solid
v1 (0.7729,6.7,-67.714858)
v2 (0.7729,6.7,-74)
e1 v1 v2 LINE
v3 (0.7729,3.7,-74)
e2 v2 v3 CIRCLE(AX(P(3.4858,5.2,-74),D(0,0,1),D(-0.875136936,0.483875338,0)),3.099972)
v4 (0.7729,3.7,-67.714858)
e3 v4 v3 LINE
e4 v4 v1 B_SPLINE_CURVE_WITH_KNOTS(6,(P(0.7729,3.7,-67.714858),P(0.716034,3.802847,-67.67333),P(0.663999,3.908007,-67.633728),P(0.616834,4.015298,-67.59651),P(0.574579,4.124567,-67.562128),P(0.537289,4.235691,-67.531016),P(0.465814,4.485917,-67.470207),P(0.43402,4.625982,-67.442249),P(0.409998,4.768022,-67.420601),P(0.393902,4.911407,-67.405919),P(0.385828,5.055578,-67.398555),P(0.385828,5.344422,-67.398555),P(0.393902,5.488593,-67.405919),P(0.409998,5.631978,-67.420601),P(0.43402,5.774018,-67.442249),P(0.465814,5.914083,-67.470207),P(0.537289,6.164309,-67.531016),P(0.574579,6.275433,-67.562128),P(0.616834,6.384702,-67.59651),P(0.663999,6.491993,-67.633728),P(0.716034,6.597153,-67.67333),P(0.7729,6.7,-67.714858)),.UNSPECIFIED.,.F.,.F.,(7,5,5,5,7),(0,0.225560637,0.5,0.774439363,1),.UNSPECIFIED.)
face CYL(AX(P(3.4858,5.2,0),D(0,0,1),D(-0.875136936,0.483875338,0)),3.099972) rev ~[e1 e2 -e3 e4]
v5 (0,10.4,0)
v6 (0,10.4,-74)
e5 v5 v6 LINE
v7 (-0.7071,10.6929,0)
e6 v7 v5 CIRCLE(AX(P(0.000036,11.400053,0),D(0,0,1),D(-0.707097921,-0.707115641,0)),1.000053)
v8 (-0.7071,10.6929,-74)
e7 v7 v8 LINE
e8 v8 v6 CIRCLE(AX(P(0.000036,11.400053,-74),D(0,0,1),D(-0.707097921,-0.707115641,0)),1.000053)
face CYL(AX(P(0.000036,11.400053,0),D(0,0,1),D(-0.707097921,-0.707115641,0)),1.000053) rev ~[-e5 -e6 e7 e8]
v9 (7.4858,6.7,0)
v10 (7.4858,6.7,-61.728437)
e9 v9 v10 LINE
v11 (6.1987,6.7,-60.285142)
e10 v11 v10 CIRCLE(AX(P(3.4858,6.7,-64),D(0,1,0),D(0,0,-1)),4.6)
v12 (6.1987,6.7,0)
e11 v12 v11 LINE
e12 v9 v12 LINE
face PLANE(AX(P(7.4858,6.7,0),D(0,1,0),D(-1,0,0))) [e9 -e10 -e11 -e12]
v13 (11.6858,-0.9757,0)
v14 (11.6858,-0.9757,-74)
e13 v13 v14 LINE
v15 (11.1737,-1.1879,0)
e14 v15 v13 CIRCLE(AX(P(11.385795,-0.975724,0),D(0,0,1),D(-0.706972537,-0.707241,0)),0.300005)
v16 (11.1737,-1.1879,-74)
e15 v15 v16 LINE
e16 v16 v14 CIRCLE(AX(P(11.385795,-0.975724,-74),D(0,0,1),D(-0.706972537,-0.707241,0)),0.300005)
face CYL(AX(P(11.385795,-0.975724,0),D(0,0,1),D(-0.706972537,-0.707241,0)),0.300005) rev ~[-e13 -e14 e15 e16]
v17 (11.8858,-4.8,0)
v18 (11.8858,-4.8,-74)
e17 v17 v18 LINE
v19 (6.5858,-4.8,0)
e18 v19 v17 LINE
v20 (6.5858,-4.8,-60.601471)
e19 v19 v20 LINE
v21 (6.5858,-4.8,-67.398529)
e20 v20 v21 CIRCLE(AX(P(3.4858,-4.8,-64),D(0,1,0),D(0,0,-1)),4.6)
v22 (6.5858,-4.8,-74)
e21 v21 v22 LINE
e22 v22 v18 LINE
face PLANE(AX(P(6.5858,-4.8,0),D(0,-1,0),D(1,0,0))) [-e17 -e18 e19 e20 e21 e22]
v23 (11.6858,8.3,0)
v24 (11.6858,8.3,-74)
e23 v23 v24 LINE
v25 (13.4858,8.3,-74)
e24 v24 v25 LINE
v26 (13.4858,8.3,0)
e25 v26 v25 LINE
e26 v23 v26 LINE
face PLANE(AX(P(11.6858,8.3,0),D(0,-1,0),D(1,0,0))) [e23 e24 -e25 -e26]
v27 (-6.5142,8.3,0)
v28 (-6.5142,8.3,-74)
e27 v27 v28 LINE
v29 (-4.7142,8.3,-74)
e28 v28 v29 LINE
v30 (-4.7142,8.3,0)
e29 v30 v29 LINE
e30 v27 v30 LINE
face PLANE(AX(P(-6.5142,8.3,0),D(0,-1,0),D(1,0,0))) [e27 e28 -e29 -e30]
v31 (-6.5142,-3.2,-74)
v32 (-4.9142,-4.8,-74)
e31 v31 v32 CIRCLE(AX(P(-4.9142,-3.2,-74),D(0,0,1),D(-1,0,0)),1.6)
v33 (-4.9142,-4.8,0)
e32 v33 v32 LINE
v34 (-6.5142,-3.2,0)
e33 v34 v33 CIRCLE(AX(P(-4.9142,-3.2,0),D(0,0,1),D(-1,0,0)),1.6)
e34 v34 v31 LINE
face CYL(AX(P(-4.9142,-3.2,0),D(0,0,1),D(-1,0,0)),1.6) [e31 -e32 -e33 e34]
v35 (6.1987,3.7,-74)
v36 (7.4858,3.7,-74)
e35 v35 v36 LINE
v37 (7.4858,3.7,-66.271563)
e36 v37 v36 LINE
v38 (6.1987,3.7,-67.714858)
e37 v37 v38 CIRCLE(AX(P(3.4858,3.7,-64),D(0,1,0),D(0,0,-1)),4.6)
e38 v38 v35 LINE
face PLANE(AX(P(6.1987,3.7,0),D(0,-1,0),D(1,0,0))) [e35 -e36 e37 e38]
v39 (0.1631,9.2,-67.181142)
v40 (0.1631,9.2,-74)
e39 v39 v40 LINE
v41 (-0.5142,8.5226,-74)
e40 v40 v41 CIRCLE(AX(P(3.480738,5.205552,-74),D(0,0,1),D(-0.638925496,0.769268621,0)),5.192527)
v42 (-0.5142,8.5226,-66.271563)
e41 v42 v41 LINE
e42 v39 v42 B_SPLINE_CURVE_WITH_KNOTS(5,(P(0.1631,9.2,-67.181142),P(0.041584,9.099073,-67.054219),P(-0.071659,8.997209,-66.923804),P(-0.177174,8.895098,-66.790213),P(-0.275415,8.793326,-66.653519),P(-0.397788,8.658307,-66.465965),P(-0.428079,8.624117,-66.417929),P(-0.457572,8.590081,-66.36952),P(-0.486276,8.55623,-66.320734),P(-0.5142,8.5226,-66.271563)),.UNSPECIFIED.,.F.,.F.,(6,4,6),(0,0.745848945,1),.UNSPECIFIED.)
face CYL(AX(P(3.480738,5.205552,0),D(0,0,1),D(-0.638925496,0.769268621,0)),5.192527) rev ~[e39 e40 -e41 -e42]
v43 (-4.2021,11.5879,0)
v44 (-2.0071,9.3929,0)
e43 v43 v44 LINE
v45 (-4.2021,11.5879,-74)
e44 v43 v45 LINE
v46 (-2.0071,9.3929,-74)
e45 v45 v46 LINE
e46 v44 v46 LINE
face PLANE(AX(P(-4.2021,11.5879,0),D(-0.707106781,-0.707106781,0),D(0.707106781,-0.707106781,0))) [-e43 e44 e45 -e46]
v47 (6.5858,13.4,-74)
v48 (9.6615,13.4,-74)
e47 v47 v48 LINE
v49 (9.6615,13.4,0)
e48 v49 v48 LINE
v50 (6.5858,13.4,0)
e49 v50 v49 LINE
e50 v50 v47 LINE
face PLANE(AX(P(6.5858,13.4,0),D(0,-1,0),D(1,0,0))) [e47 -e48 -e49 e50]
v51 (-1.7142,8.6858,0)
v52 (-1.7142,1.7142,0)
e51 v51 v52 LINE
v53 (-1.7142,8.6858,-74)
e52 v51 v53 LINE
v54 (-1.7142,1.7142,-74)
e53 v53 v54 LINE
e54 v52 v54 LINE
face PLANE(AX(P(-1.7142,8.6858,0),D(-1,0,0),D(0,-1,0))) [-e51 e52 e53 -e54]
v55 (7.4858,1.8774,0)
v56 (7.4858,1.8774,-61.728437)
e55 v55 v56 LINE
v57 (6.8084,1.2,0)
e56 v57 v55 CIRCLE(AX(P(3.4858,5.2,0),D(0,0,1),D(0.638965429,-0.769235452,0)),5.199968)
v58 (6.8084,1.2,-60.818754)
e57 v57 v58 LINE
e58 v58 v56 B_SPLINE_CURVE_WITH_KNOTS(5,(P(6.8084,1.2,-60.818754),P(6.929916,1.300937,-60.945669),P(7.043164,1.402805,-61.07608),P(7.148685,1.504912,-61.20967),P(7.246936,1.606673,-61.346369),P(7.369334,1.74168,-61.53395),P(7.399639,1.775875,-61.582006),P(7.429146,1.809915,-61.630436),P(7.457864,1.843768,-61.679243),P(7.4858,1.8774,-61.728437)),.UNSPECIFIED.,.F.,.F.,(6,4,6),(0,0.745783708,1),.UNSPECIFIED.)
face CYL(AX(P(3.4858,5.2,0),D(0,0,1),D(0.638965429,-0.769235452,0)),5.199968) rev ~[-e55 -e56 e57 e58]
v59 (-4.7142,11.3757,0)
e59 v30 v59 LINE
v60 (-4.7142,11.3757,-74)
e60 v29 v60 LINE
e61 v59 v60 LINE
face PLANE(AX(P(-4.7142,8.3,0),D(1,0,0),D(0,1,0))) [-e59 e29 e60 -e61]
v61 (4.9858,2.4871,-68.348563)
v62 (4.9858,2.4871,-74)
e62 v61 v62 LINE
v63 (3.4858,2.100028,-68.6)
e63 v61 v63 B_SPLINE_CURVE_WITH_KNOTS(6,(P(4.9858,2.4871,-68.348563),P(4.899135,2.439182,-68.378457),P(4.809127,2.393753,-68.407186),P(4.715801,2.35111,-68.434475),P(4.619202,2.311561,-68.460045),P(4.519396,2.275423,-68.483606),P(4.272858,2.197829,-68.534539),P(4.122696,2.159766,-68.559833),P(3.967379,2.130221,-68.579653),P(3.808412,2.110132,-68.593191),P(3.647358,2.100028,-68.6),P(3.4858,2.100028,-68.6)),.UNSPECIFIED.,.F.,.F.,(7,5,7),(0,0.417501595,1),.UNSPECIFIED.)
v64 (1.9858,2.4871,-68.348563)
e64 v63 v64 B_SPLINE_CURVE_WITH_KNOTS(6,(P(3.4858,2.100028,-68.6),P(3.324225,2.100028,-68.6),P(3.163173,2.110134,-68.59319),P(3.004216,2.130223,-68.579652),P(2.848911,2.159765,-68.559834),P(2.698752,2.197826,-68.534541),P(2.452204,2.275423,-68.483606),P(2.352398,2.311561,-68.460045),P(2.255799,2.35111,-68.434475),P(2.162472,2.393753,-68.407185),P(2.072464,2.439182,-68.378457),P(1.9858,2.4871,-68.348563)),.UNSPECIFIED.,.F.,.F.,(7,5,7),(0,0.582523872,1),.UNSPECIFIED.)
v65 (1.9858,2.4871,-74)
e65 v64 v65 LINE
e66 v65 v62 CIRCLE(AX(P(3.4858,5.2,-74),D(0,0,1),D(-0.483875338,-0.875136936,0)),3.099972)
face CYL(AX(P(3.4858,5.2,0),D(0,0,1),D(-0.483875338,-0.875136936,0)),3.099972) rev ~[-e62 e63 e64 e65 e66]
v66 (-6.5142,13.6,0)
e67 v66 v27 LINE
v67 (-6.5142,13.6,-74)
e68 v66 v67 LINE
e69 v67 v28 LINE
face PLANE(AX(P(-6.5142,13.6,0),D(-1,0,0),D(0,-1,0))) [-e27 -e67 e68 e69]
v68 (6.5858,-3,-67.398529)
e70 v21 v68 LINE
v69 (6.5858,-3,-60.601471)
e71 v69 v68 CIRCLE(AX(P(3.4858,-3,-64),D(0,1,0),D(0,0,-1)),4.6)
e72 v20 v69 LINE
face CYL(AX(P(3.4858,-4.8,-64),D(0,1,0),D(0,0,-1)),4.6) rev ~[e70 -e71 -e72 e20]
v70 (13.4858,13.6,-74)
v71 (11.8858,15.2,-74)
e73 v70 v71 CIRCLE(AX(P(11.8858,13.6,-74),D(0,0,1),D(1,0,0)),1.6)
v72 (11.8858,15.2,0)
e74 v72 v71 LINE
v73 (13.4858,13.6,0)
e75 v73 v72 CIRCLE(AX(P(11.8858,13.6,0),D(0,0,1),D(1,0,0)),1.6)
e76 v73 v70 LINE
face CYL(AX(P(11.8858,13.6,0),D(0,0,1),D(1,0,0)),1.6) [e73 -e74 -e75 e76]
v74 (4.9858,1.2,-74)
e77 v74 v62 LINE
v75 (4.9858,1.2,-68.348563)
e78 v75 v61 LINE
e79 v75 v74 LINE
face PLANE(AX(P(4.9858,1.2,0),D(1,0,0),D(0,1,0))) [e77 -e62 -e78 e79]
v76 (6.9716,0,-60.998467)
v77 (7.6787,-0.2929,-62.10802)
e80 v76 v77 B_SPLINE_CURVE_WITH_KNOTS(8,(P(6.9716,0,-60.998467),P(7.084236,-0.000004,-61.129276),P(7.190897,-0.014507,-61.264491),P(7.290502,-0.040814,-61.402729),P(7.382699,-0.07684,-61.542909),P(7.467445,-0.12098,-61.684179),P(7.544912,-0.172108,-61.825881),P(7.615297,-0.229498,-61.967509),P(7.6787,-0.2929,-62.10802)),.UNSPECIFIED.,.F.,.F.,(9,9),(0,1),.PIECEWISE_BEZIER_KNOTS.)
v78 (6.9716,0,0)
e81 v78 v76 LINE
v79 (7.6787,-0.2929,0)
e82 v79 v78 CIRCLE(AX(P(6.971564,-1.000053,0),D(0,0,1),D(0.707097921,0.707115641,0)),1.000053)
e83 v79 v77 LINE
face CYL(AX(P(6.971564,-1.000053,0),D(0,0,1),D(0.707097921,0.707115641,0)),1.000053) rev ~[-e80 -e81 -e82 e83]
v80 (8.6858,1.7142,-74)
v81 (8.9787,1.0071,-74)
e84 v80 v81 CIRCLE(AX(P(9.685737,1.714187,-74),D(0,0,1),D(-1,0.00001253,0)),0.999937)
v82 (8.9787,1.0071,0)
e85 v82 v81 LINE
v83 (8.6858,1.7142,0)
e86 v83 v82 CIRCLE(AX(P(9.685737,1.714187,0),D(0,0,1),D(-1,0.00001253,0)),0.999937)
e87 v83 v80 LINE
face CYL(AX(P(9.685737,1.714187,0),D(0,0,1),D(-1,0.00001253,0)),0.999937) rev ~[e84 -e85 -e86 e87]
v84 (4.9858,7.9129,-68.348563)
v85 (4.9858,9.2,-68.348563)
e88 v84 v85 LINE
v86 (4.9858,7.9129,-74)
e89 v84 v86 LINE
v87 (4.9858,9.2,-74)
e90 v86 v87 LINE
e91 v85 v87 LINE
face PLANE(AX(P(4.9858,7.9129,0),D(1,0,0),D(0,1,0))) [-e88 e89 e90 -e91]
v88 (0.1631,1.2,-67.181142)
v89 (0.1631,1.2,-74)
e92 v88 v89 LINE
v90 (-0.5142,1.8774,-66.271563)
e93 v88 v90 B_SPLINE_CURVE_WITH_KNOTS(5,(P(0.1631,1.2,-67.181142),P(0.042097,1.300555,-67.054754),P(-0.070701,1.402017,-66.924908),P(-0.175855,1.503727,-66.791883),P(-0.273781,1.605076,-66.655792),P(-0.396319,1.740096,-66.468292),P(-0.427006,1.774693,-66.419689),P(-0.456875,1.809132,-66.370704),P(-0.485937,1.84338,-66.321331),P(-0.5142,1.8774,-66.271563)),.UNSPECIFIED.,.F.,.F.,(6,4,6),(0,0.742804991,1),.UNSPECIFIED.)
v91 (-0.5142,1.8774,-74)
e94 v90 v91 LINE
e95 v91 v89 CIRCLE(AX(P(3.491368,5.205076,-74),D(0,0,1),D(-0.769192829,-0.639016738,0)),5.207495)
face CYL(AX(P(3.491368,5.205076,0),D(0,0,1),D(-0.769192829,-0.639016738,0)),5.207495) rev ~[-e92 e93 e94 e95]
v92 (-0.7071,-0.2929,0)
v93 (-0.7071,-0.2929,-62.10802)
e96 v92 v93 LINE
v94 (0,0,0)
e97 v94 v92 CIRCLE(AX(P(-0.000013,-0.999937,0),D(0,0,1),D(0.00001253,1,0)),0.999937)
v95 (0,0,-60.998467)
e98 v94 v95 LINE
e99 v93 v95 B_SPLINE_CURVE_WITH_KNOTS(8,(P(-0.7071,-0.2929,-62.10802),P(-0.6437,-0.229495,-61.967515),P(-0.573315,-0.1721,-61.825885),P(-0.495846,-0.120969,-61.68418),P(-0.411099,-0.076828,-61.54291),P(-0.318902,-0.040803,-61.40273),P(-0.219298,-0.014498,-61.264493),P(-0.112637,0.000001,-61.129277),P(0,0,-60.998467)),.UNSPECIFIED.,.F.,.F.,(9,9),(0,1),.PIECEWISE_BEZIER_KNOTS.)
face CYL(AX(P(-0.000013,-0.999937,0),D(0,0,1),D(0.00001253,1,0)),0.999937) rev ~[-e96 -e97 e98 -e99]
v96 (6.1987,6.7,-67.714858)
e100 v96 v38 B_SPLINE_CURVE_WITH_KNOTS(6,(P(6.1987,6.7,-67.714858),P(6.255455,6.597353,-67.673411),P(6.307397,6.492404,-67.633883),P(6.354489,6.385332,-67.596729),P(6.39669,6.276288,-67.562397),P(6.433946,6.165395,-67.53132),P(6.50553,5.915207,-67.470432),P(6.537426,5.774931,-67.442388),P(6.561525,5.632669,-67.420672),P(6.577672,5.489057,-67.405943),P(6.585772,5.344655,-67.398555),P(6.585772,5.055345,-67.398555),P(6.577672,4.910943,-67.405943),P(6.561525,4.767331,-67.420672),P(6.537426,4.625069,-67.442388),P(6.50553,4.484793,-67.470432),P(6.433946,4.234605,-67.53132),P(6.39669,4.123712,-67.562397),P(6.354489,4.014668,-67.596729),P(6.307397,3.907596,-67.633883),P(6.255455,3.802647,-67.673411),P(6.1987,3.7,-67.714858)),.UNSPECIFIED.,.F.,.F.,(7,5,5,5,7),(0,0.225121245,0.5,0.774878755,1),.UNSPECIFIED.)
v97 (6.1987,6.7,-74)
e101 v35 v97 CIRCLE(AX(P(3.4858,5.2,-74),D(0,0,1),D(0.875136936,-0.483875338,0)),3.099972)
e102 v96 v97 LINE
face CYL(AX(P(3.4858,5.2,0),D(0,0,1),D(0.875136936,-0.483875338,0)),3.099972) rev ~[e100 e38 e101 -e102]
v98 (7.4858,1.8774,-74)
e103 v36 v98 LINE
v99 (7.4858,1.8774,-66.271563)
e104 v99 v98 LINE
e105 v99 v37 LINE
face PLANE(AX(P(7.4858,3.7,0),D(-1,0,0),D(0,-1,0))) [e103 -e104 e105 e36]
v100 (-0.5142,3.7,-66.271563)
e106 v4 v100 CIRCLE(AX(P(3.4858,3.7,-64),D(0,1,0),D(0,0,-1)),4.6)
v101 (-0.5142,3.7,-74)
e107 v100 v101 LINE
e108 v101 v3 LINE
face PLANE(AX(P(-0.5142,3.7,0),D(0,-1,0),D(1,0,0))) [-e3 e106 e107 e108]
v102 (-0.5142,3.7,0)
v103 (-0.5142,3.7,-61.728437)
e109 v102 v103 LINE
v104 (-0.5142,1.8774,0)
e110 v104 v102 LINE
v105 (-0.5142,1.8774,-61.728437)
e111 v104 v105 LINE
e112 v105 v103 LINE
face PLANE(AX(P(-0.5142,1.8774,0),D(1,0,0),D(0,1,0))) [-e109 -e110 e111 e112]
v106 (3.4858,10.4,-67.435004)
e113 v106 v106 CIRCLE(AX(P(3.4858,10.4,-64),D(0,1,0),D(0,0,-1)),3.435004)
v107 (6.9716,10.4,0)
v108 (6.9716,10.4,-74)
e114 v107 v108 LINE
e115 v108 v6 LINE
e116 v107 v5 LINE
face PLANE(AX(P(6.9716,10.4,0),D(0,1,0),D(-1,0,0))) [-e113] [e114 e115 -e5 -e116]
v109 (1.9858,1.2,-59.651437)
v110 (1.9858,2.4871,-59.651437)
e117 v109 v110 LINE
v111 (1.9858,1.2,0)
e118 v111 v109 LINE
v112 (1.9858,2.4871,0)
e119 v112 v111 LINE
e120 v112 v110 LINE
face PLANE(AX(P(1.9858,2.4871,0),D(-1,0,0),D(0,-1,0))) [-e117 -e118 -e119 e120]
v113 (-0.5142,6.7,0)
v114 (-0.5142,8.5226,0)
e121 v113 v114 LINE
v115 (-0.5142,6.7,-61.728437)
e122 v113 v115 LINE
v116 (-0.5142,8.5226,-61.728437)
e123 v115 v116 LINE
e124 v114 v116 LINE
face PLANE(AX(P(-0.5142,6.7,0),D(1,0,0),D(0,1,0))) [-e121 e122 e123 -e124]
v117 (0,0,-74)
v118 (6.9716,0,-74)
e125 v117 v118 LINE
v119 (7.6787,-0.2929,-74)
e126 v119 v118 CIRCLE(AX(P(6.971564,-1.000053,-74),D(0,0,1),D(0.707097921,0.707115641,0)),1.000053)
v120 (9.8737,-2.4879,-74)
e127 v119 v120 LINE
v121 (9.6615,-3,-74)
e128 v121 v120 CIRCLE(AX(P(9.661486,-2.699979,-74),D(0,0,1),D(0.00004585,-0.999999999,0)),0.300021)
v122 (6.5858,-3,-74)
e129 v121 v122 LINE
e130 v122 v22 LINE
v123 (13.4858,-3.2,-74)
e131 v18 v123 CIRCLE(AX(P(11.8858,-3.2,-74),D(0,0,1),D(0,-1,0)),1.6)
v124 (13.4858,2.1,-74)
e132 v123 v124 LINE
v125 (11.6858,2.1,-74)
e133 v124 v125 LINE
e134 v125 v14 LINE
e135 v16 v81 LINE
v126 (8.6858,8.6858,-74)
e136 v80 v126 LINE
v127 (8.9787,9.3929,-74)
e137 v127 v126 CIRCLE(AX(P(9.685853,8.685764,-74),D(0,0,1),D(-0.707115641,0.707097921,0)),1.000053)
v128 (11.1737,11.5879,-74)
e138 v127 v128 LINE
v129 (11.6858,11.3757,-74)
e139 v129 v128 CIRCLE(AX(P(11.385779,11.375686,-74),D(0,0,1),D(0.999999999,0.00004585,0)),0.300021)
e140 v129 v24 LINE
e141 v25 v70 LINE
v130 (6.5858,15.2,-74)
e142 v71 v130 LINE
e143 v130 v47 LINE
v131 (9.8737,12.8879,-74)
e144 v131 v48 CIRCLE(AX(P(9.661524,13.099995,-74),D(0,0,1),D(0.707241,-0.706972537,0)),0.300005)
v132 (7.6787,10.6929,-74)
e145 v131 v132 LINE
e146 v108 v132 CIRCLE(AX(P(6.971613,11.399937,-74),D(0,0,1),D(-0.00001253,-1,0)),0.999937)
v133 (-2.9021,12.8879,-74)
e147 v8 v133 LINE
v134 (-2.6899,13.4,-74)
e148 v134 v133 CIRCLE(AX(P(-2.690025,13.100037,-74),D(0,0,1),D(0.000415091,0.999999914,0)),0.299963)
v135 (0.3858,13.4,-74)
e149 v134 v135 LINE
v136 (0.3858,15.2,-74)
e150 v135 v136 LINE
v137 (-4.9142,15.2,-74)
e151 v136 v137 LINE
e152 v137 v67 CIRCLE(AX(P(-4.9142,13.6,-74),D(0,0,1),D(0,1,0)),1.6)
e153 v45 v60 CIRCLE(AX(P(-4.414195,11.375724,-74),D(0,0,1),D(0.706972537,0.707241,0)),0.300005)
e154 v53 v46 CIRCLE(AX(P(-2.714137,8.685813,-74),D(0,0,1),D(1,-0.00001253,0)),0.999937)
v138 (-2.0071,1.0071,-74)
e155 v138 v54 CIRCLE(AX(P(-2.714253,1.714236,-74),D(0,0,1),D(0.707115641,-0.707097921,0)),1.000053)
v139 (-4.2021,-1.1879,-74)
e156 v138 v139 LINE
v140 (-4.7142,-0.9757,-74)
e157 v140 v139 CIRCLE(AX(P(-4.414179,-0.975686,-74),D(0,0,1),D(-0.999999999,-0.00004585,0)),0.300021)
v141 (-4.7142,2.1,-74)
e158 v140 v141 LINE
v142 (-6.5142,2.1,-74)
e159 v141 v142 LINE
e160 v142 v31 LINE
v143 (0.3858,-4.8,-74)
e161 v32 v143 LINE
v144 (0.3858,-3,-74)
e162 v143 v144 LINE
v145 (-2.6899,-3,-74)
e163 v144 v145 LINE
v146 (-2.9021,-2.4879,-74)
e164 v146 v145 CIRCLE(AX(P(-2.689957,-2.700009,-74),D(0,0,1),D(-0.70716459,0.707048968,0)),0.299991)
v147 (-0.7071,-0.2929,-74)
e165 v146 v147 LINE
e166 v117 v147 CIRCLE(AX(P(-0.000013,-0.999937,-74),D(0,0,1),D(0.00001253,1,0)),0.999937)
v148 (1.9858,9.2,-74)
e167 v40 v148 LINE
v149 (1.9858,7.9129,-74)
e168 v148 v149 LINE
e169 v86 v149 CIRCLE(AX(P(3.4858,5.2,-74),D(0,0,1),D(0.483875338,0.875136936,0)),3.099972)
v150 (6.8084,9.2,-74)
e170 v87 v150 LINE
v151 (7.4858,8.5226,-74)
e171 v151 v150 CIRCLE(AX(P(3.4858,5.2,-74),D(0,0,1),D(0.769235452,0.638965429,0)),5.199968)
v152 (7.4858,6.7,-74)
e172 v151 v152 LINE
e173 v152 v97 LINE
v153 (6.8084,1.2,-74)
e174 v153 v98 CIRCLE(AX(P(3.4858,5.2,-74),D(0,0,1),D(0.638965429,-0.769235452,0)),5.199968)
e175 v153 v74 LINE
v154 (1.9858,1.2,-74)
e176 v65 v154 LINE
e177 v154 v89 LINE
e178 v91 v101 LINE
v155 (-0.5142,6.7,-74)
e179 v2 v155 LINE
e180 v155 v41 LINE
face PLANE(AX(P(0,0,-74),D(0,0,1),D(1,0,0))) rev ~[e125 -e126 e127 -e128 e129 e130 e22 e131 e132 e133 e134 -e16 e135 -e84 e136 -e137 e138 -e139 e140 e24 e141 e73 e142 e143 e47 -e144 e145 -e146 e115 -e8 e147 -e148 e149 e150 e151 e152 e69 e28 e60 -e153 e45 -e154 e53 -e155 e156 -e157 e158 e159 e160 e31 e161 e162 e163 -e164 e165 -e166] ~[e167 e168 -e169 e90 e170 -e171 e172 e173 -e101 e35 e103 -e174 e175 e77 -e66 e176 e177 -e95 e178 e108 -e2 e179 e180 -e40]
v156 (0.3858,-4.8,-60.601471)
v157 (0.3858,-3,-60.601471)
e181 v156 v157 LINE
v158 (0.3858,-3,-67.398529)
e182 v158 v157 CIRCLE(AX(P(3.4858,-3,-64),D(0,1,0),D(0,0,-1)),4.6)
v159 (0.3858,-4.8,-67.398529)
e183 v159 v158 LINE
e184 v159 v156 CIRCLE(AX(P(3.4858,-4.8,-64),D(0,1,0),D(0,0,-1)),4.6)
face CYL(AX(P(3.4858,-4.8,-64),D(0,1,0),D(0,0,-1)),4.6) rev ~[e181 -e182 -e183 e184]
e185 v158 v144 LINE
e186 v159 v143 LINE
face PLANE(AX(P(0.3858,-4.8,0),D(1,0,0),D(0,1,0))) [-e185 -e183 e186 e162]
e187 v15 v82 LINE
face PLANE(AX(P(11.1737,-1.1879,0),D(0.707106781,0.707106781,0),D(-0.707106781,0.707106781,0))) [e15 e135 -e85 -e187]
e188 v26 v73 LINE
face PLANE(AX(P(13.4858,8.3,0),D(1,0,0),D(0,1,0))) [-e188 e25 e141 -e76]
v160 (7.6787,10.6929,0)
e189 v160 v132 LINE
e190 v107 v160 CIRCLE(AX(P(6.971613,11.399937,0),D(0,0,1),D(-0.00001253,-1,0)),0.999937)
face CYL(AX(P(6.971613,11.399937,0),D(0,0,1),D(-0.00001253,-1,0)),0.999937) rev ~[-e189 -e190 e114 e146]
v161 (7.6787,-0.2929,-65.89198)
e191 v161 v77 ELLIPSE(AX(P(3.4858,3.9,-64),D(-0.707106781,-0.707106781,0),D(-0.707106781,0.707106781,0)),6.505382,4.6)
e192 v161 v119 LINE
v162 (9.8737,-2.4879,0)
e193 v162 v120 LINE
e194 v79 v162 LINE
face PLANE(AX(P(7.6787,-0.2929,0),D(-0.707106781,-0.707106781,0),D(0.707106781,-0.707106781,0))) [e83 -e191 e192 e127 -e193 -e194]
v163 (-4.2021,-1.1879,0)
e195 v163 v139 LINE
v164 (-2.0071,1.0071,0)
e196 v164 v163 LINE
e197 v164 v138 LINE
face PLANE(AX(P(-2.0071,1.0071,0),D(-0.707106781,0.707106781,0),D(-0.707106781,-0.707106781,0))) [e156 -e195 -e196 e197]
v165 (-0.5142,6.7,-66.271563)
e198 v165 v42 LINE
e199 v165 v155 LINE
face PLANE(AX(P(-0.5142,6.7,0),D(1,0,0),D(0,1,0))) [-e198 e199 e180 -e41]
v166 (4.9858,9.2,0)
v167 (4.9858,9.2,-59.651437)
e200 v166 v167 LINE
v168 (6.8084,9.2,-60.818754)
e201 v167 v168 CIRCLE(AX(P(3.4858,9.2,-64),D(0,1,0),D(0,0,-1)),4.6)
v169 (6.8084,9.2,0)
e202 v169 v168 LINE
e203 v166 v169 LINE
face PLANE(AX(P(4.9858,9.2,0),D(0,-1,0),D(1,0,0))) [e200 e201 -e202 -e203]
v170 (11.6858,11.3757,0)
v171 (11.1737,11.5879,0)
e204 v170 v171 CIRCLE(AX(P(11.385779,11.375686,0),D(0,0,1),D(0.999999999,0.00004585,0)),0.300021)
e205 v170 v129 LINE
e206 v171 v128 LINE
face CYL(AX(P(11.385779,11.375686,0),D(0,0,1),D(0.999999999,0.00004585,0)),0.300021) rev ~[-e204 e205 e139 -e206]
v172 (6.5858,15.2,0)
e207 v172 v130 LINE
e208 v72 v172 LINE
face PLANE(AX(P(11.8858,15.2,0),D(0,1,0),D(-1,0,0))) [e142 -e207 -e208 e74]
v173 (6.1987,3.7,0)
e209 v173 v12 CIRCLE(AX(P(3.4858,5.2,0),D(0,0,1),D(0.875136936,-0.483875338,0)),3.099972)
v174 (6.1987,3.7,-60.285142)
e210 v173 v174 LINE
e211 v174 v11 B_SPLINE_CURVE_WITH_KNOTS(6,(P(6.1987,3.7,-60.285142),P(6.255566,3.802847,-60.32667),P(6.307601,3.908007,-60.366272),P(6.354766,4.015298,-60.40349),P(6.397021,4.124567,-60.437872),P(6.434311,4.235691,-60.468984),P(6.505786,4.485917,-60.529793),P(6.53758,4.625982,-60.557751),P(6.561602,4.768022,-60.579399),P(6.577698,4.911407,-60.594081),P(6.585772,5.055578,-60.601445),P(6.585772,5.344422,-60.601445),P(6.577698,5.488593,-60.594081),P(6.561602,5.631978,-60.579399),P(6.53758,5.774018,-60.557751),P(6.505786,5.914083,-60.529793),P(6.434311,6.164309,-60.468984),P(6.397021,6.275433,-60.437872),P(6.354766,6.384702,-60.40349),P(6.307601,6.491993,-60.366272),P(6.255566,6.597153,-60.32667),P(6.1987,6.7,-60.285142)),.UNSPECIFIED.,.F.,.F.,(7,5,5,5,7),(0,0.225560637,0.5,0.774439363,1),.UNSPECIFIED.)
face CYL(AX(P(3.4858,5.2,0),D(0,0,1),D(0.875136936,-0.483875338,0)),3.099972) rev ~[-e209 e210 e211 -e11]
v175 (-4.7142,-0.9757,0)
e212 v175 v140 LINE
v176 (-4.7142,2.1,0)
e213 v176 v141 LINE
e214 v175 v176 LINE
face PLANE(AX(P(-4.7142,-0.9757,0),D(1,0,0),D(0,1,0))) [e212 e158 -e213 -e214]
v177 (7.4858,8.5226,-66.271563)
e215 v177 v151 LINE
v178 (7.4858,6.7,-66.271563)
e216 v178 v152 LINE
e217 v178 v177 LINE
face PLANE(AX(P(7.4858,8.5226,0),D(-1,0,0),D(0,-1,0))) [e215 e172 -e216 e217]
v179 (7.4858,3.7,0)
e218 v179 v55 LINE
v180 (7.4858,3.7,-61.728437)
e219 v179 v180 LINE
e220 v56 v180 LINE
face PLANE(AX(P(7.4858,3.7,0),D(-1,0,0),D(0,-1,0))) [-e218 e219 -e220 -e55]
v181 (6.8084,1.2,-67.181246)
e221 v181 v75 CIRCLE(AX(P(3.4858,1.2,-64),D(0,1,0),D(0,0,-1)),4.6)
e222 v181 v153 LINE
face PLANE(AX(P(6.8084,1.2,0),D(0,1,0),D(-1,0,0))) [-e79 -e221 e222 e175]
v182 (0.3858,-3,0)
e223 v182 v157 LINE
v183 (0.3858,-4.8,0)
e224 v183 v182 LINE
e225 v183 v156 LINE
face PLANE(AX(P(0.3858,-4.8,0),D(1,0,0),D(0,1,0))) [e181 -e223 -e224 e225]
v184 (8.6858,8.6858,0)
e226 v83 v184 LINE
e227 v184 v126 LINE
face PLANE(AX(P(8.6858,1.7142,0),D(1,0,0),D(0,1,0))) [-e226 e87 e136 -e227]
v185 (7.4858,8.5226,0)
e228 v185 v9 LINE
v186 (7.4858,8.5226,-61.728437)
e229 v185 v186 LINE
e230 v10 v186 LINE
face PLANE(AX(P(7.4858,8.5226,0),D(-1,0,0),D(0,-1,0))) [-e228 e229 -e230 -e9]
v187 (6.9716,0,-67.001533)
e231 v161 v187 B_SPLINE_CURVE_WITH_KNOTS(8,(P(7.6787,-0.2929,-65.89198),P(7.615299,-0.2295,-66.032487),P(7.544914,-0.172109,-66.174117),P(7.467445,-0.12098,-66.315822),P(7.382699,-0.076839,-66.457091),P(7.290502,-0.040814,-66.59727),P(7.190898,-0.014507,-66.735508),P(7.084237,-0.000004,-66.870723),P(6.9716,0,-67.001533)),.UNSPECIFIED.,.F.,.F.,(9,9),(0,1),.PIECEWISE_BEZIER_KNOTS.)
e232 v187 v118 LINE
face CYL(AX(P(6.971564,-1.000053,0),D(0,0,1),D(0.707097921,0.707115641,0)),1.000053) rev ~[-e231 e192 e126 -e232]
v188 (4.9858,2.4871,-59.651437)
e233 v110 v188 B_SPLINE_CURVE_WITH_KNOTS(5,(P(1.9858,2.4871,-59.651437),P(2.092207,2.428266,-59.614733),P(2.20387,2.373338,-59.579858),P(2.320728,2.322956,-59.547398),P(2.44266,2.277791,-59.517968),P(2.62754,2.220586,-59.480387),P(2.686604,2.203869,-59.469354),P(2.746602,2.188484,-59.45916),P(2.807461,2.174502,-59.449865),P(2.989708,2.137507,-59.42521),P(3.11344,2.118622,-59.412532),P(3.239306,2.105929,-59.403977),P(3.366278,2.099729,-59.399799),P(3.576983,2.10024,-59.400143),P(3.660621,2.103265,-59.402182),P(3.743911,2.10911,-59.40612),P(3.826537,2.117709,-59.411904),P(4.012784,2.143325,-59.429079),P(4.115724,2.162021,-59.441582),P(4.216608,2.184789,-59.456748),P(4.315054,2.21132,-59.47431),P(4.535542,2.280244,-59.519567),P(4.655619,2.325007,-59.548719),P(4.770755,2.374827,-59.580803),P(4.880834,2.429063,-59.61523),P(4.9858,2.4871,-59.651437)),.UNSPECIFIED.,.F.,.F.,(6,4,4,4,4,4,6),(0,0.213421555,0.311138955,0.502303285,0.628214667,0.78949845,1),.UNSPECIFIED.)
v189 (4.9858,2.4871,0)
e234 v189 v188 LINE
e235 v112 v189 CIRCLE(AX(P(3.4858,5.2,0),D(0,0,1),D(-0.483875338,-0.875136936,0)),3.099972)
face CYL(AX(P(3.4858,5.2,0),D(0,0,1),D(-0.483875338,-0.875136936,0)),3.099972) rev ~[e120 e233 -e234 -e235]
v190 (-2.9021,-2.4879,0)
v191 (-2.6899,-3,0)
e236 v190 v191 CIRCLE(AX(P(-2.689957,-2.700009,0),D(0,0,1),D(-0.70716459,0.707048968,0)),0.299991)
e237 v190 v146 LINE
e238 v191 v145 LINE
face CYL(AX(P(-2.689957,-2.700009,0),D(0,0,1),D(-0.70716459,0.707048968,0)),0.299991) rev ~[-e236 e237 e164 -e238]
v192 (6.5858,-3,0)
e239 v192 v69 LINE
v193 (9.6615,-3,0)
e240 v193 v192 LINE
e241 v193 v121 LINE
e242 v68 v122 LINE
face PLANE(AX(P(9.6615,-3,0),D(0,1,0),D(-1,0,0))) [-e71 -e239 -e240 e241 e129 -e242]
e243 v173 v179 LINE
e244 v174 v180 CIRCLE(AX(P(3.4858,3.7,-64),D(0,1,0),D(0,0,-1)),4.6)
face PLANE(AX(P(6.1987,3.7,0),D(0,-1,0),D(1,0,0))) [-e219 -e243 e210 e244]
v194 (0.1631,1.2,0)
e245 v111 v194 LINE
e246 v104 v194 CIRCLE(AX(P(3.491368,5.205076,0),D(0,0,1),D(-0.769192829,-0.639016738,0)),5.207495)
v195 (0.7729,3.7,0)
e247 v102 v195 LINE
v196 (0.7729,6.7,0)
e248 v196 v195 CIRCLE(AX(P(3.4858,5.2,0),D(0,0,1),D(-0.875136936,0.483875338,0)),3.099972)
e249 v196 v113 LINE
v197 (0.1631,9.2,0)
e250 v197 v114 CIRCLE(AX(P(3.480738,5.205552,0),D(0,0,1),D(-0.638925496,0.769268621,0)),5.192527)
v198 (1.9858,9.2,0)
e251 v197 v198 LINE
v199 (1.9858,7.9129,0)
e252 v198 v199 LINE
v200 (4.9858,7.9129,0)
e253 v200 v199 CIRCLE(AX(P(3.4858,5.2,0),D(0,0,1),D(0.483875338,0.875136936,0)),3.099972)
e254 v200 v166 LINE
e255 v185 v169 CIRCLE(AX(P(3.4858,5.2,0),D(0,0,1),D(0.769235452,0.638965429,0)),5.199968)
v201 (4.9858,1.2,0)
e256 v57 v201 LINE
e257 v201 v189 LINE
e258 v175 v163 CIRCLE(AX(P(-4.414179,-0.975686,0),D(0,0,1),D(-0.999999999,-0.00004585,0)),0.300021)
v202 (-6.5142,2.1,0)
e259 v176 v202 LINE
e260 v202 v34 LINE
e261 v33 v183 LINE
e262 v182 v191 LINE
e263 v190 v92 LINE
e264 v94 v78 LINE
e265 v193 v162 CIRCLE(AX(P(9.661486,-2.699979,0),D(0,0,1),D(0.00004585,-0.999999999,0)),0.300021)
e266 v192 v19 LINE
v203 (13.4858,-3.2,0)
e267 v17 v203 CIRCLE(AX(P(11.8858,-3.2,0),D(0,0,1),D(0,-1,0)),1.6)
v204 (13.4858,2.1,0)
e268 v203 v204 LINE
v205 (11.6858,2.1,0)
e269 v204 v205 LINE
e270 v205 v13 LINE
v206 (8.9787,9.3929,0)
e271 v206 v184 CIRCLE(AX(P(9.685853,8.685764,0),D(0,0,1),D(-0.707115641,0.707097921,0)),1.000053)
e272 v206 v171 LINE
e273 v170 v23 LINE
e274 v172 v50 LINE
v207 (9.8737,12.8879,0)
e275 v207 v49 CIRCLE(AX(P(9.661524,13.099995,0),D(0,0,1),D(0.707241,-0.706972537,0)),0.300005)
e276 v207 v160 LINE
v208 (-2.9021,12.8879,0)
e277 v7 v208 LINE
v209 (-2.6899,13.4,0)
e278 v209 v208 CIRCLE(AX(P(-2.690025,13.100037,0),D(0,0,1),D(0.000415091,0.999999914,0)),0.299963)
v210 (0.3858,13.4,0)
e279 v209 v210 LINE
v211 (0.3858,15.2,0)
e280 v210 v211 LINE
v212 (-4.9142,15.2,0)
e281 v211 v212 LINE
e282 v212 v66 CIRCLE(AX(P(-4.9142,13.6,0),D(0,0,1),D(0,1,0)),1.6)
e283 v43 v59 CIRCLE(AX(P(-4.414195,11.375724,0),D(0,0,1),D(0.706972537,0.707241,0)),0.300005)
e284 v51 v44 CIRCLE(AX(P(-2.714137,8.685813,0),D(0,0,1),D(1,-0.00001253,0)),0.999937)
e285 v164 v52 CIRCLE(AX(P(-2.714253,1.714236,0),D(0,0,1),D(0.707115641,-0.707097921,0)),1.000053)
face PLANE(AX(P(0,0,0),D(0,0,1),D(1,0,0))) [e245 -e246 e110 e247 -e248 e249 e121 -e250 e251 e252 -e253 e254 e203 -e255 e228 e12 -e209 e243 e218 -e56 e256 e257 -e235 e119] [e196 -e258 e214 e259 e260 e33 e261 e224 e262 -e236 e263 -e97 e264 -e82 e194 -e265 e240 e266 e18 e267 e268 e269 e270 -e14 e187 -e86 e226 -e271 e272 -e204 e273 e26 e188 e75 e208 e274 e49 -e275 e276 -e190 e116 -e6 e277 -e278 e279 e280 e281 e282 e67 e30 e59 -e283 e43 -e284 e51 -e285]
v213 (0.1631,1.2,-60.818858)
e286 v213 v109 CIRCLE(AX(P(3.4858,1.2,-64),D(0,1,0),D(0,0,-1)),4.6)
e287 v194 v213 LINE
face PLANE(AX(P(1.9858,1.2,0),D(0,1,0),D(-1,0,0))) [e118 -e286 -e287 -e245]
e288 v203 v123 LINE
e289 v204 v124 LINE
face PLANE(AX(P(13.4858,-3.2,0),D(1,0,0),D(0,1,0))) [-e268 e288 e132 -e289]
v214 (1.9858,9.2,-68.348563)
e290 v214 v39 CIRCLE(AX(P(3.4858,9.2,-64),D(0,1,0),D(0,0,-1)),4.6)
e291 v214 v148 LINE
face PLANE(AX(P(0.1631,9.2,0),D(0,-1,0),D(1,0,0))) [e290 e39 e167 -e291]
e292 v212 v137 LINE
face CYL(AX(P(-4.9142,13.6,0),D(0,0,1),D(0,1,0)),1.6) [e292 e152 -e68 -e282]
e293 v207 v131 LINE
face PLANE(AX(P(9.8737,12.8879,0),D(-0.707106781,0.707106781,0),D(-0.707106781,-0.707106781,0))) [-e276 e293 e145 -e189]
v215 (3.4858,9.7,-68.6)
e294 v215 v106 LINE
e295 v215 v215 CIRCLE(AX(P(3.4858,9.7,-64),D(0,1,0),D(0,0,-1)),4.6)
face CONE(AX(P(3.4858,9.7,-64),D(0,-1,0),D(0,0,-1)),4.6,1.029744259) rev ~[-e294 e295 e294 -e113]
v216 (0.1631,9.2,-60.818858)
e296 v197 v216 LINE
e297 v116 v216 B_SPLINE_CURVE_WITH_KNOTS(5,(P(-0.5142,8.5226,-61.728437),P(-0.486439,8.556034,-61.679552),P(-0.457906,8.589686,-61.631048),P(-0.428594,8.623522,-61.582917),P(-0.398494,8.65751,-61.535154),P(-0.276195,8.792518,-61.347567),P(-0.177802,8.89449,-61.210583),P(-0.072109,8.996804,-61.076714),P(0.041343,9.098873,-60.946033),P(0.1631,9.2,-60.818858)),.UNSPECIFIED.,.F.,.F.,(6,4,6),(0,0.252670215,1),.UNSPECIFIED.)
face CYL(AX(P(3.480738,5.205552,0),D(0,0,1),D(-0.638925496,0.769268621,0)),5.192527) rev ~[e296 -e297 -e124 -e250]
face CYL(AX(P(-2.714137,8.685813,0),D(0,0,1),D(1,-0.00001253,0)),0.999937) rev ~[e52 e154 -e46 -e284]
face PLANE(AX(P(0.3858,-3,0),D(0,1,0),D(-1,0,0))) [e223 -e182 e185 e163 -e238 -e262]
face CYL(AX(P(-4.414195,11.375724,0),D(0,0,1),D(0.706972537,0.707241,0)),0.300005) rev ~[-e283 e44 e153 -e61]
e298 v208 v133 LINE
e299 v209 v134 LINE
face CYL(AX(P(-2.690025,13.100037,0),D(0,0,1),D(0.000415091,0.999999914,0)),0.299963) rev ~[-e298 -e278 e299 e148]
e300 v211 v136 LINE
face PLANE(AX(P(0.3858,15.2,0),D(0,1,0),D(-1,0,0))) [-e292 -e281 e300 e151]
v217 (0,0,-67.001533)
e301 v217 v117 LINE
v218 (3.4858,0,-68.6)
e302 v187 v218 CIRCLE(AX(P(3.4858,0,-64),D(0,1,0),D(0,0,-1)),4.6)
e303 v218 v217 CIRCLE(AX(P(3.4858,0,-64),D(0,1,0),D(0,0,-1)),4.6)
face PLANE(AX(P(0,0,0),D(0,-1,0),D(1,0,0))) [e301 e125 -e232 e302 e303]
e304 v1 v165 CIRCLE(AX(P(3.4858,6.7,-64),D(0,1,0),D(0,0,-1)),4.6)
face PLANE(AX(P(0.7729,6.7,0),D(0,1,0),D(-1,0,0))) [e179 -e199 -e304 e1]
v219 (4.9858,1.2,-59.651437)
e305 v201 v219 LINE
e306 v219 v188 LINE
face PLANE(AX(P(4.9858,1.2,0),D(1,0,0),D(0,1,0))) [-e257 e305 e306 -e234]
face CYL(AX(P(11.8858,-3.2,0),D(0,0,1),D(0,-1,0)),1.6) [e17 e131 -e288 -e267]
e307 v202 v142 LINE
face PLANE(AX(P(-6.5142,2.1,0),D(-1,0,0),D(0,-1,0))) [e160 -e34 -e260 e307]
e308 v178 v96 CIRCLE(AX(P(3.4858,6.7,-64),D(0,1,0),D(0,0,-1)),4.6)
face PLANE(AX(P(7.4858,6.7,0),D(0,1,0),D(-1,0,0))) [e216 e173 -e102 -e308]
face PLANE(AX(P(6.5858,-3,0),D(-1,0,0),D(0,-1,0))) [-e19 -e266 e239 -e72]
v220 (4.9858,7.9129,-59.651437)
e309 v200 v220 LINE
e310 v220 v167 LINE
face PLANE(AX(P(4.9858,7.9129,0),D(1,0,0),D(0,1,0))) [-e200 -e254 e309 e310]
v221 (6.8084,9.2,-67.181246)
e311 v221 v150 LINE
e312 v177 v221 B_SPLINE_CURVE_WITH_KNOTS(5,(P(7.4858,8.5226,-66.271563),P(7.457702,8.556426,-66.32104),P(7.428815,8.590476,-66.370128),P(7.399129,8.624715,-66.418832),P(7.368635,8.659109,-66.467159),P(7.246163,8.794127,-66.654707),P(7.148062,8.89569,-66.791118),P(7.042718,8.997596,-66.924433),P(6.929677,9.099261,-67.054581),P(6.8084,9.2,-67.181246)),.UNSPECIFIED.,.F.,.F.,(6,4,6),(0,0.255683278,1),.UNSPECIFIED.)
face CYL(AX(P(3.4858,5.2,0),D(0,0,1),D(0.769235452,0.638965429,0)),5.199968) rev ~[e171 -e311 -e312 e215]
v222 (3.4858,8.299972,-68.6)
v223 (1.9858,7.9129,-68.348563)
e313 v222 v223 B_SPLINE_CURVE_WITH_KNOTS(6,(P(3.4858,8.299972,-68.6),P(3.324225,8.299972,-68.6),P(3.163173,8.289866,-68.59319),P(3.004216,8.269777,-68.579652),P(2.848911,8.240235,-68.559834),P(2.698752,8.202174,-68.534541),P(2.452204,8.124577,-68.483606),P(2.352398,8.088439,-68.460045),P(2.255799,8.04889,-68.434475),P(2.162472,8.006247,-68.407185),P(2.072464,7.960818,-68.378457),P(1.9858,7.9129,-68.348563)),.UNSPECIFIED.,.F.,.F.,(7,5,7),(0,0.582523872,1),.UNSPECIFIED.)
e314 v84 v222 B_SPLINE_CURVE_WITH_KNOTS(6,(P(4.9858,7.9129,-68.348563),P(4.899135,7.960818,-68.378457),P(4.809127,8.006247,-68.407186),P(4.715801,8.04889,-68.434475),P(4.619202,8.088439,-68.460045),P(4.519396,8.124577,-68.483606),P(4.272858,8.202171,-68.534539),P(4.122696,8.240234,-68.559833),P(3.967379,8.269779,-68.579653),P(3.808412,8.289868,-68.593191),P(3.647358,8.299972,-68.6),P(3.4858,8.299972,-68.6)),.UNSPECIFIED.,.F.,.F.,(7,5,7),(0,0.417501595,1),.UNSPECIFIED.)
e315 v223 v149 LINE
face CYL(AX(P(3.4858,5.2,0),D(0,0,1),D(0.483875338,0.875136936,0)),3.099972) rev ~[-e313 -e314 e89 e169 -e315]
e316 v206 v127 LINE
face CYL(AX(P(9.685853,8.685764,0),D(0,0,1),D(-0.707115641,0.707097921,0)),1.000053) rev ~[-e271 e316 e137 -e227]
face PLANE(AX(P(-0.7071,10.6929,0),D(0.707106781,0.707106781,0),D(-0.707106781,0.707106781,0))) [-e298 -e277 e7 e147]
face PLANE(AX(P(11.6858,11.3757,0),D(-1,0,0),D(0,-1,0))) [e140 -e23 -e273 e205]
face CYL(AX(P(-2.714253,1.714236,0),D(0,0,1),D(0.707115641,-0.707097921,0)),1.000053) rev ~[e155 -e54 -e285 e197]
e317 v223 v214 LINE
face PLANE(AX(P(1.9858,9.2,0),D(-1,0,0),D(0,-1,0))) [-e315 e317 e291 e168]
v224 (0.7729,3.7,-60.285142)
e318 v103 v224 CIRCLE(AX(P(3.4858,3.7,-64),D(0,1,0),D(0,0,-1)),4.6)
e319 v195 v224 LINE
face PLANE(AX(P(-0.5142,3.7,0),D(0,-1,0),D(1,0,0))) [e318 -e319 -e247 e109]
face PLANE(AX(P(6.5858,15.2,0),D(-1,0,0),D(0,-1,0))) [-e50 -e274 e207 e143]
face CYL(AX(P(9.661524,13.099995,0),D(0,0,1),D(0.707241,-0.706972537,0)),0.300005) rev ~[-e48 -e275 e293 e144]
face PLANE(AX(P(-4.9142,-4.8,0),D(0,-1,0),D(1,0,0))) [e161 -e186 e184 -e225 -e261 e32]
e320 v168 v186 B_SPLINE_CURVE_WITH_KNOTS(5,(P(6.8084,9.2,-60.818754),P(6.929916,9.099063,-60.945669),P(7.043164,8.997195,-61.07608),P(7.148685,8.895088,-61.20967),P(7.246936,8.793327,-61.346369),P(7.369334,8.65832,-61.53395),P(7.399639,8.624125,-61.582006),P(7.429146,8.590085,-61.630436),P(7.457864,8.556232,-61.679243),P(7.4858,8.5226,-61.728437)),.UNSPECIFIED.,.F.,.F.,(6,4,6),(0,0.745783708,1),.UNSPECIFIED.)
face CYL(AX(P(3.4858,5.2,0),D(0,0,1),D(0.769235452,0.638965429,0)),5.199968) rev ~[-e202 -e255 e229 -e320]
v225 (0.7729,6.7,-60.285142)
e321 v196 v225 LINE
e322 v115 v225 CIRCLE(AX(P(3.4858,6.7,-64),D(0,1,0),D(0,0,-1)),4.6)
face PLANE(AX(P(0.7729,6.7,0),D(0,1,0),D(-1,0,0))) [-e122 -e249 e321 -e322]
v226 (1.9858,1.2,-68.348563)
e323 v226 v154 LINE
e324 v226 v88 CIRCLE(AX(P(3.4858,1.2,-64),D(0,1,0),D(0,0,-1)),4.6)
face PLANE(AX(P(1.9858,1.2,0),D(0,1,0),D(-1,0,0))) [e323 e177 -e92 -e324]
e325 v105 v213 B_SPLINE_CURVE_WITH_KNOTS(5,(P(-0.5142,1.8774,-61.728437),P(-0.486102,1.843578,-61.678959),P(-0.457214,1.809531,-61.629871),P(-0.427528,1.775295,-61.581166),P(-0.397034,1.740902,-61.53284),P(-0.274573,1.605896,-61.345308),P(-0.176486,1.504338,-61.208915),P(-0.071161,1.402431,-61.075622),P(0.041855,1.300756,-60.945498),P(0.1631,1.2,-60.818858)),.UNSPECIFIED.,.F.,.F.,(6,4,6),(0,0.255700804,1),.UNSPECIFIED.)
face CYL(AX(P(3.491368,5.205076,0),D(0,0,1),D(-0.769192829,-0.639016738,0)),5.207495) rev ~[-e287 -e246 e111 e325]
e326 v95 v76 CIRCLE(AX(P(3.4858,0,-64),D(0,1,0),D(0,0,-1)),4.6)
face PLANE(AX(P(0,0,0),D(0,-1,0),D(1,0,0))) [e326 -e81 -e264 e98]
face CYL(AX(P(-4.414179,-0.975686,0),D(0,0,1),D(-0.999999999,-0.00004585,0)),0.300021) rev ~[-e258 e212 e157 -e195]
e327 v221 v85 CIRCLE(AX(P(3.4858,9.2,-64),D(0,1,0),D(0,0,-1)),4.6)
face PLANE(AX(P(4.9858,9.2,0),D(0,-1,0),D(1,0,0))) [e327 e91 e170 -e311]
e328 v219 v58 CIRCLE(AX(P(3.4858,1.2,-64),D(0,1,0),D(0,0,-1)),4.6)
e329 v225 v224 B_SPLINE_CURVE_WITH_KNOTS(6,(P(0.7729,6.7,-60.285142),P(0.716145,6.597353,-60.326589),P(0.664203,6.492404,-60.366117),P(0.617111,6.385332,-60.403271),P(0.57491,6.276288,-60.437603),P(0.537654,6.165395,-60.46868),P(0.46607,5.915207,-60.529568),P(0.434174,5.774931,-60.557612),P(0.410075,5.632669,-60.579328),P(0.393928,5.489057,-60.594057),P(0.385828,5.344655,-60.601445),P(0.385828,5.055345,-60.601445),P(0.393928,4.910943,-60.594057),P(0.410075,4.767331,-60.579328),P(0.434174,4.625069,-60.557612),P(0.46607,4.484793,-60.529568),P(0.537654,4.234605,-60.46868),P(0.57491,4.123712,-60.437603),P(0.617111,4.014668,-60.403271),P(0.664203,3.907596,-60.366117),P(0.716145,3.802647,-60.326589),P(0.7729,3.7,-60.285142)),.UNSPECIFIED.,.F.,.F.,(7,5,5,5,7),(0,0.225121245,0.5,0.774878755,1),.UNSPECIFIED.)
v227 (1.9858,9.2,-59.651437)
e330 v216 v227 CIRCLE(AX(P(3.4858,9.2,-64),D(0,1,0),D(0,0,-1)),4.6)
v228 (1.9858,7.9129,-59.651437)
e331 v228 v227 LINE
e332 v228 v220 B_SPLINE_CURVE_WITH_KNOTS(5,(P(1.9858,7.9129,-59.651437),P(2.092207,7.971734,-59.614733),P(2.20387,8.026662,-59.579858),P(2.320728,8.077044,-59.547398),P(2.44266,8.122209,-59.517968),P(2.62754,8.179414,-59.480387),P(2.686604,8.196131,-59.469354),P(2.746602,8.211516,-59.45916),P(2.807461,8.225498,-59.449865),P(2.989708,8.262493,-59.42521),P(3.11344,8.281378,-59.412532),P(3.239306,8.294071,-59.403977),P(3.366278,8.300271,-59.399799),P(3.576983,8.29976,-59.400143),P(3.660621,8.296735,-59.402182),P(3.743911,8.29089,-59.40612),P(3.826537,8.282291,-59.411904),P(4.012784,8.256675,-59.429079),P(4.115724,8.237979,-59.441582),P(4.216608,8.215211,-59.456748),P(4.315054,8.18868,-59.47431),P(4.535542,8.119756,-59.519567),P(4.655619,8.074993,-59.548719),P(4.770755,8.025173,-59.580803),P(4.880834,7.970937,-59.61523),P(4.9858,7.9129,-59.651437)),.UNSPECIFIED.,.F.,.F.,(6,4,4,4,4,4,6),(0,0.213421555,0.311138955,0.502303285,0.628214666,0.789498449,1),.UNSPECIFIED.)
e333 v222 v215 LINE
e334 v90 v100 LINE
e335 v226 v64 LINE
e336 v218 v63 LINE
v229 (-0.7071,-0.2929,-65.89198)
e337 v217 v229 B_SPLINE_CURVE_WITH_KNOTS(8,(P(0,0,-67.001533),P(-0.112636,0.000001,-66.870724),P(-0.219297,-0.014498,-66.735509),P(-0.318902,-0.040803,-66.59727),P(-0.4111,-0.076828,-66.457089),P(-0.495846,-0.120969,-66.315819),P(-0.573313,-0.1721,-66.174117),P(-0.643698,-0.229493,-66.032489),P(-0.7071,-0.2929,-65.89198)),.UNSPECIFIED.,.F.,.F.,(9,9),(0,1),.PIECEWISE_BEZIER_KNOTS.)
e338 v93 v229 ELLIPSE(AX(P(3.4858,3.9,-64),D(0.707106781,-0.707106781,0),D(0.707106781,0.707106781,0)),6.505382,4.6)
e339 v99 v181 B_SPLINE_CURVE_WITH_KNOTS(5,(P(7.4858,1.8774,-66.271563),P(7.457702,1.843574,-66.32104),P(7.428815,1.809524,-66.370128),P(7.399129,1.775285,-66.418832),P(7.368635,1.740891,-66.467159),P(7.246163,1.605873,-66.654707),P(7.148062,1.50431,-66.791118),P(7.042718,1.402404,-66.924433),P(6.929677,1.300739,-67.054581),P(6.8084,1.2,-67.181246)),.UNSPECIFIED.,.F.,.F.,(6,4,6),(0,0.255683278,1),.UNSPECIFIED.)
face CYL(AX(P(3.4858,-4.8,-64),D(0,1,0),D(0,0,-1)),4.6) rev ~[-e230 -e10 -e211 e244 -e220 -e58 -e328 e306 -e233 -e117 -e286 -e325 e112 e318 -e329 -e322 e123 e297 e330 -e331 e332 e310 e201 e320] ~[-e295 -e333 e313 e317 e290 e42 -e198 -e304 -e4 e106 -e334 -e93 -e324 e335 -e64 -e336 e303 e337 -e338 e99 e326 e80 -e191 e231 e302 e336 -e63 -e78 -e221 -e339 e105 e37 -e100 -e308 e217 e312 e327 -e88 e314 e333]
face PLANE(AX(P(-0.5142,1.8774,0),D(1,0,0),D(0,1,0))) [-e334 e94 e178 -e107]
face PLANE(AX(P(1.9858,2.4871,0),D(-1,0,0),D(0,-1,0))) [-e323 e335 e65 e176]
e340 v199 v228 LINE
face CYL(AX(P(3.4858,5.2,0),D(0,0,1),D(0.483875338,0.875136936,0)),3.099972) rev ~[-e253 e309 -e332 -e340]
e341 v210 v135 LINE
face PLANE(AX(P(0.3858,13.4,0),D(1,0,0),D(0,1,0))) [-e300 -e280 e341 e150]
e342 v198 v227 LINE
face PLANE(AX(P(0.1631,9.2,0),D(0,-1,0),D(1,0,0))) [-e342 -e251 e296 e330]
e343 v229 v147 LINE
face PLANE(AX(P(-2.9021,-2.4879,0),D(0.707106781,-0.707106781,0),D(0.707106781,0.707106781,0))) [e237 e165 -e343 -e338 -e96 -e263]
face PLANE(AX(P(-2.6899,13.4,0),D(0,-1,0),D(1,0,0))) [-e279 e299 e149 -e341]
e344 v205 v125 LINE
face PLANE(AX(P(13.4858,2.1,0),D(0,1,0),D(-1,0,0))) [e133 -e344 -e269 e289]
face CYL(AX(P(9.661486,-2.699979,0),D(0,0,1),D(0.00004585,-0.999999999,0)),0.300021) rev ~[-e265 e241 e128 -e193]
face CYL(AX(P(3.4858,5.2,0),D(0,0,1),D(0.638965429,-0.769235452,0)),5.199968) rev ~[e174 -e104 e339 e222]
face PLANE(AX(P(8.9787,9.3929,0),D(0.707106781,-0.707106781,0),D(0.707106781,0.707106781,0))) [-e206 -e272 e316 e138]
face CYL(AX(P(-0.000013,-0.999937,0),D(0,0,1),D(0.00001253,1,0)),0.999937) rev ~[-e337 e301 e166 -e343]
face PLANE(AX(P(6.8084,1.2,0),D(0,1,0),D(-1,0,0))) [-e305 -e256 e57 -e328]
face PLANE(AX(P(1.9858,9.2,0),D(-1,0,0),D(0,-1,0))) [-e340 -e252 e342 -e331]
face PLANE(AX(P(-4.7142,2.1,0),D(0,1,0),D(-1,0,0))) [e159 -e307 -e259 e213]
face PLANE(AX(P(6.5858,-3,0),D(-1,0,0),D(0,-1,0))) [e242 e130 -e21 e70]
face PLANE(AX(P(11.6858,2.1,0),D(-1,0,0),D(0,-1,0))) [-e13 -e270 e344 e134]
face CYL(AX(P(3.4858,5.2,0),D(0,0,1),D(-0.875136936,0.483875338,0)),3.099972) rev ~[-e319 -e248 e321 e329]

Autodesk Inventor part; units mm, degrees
ref_plane "YZ Plane" through (0, 0, 0) normal (1, 0, 0) x (0, 1, 0)
ref_plane "XZ Plane" through (0, 0, 0) normal (0, 1, 0) x (-1, 0, 0)
ref_plane "XY Plane" through (0, 0, 0) normal (0, 0, 1) x (1, 0, 0)
sketch "Skizze1" plane through (0, 0, 0) normal (0, 0, 1) x (1, 0, 0)
  arc A0 (-6.5142, -3.2) -> (-4.9142, -4.8) centre (-4.9142, -3.2) ccw
  line L0 (-4.9142, -4.8) -> (0.3858, -4.8)
  line L1 (0.3858, -4.8) -> (0.3858, -3)
  line L2 (0.3858, -3) -> (-2.6899, -3)
  arc A1 (-2.9021, -2.4879) -> (-2.6899, -3) centre (-2.69, -2.7) ccw
  line L3 (-2.9021, -2.4879) -> (-0.7071, -0.2929)
  arc A2 (0, 0) -> (-0.7071, -0.2929) centre (0, -1) ccw
  line L4 (0, 0) -> (6.9716, 0)
  arc A3 (7.6787, -0.2929) -> (6.9716, 0) centre (6.9716, -1) ccw
  line L5 (7.6787, -0.2929) -> (9.8737, -2.4879)
  arc A4 (9.6615, -3) -> (9.8737, -2.4879) centre (9.6615, -2.7) ccw
  line L6 (9.6615, -3) -> (6.5858, -3)
  line L7 (6.5858, -3) -> (6.5858, -4.8)
  line L8 (6.5858, -4.8) -> (11.8858, -4.8)
  arc A5 (11.8858, -4.8) -> (13.4858, -3.2) centre (11.8858, -3.2) ccw
  line L9 (13.4858, -3.2) -> (13.4858, 2.1)
  line L10 (13.4858, 2.1) -> (11.6858, 2.1)
  line L11 (11.6858, 2.1) -> (11.6858, -0.9757)
  arc A6 (11.1737, -1.1879) -> (11.6858, -0.9757) centre (11.3858, -0.9757) ccw
  line L12 (11.1737, -1.1879) -> (8.9787, 1.0071)
  arc A7 (8.6858, 1.7142) -> (8.9787, 1.0071) centre (9.6858, 1.7142) ccw
  line L13 (8.6858, 1.7142) -> (8.6858, 8.6858)
  arc A8 (8.9787, 9.3929) -> (8.6858, 8.6858) centre (9.6858, 8.6858) ccw
  line L14 (8.9787, 9.3929) -> (11.1737, 11.5879)
  arc A9 (11.6858, 11.3757) -> (11.1737, 11.5879) centre (11.3858, 11.3757) ccw
  line L15 (11.6858, 11.3757) -> (11.6858, 8.3)
  line L16 (11.6858, 8.3) -> (13.4858, 8.3)
  line L17 (13.4858, 8.3) -> (13.4858, 13.6)
  arc A10 (13.4858, 13.6) -> (11.8858, 15.2) centre (11.8858, 13.6) ccw
  line L18 (11.8858, 15.2) -> (6.5858, 15.2)
  line L19 (6.5858, 15.2) -> (6.5858, 13.4)
  line L20 (6.5858, 13.4) -> (9.6615, 13.4)
  arc A11 (9.8737, 12.8879) -> (9.6615, 13.4) centre (9.6615, 13.1) ccw
  line L21 (9.8737, 12.8879) -> (7.6787, 10.6929)
  arc A12 (6.9716, 10.4) -> (7.6787, 10.6929) centre (6.9716, 11.4) ccw
  line L22 (6.9716, 10.4) -> (0, 10.4)
  arc A13 (-0.7071, 10.6929) -> (0, 10.4) centre (0, 11.4) ccw
  line L23 (-0.7071, 10.6929) -> (-2.9021, 12.8879)
  arc A14 (-2.6899, 13.4) -> (-2.9021, 12.8879) centre (-2.69, 13.1) ccw
  line L24 (-2.6899, 13.4) -> (0.3858, 13.4)
  line L25 (0.3858, 13.4) -> (0.3858, 15.2)
  line L26 (0.3858, 15.2) -> (-4.9142, 15.2)
  arc A15 (-4.9142, 15.2) -> (-6.5142, 13.6) centre (-4.9142, 13.6) ccw
  line L27 (-6.5142, 13.6) -> (-6.5142, 8.3)
  line L28 (-6.5142, 8.3) -> (-4.7142, 8.3)
  line L29 (-4.7142, 8.3) -> (-4.7142, 11.3757)
  arc A16 (-4.2021, 11.5879) -> (-4.7142, 11.3757) centre (-4.4142, 11.3757) ccw
  line L30 (-4.2021, 11.5879) -> (-2.0071, 9.3929)
  arc A17 (-1.7142, 8.6858) -> (-2.0071, 9.3929) centre (-2.7142, 8.6858) ccw
  line L31 (-1.7142, 8.6858) -> (-1.7142, 1.7142)
  arc A18 (-2.0071, 1.0071) -> (-1.7142, 1.7142) centre (-2.7142, 1.7142) ccw
  line L32 (-2.0071, 1.0071) -> (-4.2021, -1.1879)
  arc A19 (-4.7142, -0.9757) -> (-4.2021, -1.1879) centre (-4.4142, -0.9757) ccw
  line L33 (-4.7142, -0.9757) -> (-4.7142, 2.1)
  line L34 (-4.7142, 2.1) -> (-6.5142, 2.1)
  line L35 (-6.5142, 2.1) -> (-6.5142, -3.2)
  line L36 (1.9858, 2.4871) -> (1.9858, 1.2)
  line L37 (1.9858, 1.2) -> (0.1631, 1.2)
  arc A20 (-0.5142, 1.8774) -> (0.1631, 1.2) centre (3.4858, 5.2) ccw
  line L38 (-0.5142, 1.8774) -> (-0.5142, 3.7)
  line L39 (-0.5142, 3.7) -> (0.7729, 3.7)
  arc A21 (0.7729, 6.7) -> (0.7729, 3.7) centre (3.4858, 5.2) ccw
  line L40 (0.7729, 6.7) -> (-0.5142, 6.7)
  line L41 (-0.5142, 6.7) -> (-0.5142, 8.5226)
  arc A22 (0.1631, 9.2) -> (-0.5142, 8.5226) centre (3.4858, 5.2) ccw
  line L42 (0.1631, 9.2) -> (1.9858, 9.2)
  line L43 (1.9858, 9.2) -> (1.9858, 7.9129)
  arc A23 (4.9858, 7.9129) -> (1.9858, 7.9129) centre (3.4858, 5.2) ccw
  line L44 (4.9858, 7.9129) -> (4.9858, 9.2)
  line L45 (4.9858, 9.2) -> (6.8084, 9.2)
  arc A24 (7.4858, 8.5226) -> (6.8084, 9.2) centre (3.4858, 5.2) ccw
  line L46 (7.4858, 8.5226) -> (7.4858, 6.7)
  line L47 (7.4858, 6.7) -> (6.1987, 6.7)
  arc A25 (6.1987, 3.7) -> (6.1987, 6.7) centre (3.4858, 5.2) ccw
  line L48 (6.1987, 3.7) -> (7.4858, 3.7)
  line L49 (7.4858, 3.7) -> (7.4858, 1.8774)
  arc A26 (6.8084, 1.2) -> (7.4858, 1.8774) centre (3.4858, 5.2) ccw
  line L50 (6.8084, 1.2) -> (4.9858, 1.2)
  line L51 (4.9858, 1.2) -> (4.9858, 2.4871)
  arc A27 (1.9858, 2.4871) -> (4.9858, 2.4871) centre (3.4858, 5.2) ccw
extrude "Extrusion1" add sketch "Skizze1" against normal blind 74
sketch "Skizze4" plane through (6.5858, -4.8, 0) normal (0, -1, 0) x (1, 0, 0)
  line L0 (-6.5858, 0) -> (0.3858, 0) projected
  line L1 (-13.1, 0) -> (-13.1, -74) projected
  line L2 (-6.5858, -74) -> (0.3858, -74) projected
  point P0 (-3.1, -64)
  dimension "d13" = 10
  dimension "d21" = 10
hole "Bohrung2" at (3.4858, -4.8, -64) direction (0, 1, 0) diameter 9.2 depth 14.5 tip angle 118
properties part number "20x20Profil 1.0"
